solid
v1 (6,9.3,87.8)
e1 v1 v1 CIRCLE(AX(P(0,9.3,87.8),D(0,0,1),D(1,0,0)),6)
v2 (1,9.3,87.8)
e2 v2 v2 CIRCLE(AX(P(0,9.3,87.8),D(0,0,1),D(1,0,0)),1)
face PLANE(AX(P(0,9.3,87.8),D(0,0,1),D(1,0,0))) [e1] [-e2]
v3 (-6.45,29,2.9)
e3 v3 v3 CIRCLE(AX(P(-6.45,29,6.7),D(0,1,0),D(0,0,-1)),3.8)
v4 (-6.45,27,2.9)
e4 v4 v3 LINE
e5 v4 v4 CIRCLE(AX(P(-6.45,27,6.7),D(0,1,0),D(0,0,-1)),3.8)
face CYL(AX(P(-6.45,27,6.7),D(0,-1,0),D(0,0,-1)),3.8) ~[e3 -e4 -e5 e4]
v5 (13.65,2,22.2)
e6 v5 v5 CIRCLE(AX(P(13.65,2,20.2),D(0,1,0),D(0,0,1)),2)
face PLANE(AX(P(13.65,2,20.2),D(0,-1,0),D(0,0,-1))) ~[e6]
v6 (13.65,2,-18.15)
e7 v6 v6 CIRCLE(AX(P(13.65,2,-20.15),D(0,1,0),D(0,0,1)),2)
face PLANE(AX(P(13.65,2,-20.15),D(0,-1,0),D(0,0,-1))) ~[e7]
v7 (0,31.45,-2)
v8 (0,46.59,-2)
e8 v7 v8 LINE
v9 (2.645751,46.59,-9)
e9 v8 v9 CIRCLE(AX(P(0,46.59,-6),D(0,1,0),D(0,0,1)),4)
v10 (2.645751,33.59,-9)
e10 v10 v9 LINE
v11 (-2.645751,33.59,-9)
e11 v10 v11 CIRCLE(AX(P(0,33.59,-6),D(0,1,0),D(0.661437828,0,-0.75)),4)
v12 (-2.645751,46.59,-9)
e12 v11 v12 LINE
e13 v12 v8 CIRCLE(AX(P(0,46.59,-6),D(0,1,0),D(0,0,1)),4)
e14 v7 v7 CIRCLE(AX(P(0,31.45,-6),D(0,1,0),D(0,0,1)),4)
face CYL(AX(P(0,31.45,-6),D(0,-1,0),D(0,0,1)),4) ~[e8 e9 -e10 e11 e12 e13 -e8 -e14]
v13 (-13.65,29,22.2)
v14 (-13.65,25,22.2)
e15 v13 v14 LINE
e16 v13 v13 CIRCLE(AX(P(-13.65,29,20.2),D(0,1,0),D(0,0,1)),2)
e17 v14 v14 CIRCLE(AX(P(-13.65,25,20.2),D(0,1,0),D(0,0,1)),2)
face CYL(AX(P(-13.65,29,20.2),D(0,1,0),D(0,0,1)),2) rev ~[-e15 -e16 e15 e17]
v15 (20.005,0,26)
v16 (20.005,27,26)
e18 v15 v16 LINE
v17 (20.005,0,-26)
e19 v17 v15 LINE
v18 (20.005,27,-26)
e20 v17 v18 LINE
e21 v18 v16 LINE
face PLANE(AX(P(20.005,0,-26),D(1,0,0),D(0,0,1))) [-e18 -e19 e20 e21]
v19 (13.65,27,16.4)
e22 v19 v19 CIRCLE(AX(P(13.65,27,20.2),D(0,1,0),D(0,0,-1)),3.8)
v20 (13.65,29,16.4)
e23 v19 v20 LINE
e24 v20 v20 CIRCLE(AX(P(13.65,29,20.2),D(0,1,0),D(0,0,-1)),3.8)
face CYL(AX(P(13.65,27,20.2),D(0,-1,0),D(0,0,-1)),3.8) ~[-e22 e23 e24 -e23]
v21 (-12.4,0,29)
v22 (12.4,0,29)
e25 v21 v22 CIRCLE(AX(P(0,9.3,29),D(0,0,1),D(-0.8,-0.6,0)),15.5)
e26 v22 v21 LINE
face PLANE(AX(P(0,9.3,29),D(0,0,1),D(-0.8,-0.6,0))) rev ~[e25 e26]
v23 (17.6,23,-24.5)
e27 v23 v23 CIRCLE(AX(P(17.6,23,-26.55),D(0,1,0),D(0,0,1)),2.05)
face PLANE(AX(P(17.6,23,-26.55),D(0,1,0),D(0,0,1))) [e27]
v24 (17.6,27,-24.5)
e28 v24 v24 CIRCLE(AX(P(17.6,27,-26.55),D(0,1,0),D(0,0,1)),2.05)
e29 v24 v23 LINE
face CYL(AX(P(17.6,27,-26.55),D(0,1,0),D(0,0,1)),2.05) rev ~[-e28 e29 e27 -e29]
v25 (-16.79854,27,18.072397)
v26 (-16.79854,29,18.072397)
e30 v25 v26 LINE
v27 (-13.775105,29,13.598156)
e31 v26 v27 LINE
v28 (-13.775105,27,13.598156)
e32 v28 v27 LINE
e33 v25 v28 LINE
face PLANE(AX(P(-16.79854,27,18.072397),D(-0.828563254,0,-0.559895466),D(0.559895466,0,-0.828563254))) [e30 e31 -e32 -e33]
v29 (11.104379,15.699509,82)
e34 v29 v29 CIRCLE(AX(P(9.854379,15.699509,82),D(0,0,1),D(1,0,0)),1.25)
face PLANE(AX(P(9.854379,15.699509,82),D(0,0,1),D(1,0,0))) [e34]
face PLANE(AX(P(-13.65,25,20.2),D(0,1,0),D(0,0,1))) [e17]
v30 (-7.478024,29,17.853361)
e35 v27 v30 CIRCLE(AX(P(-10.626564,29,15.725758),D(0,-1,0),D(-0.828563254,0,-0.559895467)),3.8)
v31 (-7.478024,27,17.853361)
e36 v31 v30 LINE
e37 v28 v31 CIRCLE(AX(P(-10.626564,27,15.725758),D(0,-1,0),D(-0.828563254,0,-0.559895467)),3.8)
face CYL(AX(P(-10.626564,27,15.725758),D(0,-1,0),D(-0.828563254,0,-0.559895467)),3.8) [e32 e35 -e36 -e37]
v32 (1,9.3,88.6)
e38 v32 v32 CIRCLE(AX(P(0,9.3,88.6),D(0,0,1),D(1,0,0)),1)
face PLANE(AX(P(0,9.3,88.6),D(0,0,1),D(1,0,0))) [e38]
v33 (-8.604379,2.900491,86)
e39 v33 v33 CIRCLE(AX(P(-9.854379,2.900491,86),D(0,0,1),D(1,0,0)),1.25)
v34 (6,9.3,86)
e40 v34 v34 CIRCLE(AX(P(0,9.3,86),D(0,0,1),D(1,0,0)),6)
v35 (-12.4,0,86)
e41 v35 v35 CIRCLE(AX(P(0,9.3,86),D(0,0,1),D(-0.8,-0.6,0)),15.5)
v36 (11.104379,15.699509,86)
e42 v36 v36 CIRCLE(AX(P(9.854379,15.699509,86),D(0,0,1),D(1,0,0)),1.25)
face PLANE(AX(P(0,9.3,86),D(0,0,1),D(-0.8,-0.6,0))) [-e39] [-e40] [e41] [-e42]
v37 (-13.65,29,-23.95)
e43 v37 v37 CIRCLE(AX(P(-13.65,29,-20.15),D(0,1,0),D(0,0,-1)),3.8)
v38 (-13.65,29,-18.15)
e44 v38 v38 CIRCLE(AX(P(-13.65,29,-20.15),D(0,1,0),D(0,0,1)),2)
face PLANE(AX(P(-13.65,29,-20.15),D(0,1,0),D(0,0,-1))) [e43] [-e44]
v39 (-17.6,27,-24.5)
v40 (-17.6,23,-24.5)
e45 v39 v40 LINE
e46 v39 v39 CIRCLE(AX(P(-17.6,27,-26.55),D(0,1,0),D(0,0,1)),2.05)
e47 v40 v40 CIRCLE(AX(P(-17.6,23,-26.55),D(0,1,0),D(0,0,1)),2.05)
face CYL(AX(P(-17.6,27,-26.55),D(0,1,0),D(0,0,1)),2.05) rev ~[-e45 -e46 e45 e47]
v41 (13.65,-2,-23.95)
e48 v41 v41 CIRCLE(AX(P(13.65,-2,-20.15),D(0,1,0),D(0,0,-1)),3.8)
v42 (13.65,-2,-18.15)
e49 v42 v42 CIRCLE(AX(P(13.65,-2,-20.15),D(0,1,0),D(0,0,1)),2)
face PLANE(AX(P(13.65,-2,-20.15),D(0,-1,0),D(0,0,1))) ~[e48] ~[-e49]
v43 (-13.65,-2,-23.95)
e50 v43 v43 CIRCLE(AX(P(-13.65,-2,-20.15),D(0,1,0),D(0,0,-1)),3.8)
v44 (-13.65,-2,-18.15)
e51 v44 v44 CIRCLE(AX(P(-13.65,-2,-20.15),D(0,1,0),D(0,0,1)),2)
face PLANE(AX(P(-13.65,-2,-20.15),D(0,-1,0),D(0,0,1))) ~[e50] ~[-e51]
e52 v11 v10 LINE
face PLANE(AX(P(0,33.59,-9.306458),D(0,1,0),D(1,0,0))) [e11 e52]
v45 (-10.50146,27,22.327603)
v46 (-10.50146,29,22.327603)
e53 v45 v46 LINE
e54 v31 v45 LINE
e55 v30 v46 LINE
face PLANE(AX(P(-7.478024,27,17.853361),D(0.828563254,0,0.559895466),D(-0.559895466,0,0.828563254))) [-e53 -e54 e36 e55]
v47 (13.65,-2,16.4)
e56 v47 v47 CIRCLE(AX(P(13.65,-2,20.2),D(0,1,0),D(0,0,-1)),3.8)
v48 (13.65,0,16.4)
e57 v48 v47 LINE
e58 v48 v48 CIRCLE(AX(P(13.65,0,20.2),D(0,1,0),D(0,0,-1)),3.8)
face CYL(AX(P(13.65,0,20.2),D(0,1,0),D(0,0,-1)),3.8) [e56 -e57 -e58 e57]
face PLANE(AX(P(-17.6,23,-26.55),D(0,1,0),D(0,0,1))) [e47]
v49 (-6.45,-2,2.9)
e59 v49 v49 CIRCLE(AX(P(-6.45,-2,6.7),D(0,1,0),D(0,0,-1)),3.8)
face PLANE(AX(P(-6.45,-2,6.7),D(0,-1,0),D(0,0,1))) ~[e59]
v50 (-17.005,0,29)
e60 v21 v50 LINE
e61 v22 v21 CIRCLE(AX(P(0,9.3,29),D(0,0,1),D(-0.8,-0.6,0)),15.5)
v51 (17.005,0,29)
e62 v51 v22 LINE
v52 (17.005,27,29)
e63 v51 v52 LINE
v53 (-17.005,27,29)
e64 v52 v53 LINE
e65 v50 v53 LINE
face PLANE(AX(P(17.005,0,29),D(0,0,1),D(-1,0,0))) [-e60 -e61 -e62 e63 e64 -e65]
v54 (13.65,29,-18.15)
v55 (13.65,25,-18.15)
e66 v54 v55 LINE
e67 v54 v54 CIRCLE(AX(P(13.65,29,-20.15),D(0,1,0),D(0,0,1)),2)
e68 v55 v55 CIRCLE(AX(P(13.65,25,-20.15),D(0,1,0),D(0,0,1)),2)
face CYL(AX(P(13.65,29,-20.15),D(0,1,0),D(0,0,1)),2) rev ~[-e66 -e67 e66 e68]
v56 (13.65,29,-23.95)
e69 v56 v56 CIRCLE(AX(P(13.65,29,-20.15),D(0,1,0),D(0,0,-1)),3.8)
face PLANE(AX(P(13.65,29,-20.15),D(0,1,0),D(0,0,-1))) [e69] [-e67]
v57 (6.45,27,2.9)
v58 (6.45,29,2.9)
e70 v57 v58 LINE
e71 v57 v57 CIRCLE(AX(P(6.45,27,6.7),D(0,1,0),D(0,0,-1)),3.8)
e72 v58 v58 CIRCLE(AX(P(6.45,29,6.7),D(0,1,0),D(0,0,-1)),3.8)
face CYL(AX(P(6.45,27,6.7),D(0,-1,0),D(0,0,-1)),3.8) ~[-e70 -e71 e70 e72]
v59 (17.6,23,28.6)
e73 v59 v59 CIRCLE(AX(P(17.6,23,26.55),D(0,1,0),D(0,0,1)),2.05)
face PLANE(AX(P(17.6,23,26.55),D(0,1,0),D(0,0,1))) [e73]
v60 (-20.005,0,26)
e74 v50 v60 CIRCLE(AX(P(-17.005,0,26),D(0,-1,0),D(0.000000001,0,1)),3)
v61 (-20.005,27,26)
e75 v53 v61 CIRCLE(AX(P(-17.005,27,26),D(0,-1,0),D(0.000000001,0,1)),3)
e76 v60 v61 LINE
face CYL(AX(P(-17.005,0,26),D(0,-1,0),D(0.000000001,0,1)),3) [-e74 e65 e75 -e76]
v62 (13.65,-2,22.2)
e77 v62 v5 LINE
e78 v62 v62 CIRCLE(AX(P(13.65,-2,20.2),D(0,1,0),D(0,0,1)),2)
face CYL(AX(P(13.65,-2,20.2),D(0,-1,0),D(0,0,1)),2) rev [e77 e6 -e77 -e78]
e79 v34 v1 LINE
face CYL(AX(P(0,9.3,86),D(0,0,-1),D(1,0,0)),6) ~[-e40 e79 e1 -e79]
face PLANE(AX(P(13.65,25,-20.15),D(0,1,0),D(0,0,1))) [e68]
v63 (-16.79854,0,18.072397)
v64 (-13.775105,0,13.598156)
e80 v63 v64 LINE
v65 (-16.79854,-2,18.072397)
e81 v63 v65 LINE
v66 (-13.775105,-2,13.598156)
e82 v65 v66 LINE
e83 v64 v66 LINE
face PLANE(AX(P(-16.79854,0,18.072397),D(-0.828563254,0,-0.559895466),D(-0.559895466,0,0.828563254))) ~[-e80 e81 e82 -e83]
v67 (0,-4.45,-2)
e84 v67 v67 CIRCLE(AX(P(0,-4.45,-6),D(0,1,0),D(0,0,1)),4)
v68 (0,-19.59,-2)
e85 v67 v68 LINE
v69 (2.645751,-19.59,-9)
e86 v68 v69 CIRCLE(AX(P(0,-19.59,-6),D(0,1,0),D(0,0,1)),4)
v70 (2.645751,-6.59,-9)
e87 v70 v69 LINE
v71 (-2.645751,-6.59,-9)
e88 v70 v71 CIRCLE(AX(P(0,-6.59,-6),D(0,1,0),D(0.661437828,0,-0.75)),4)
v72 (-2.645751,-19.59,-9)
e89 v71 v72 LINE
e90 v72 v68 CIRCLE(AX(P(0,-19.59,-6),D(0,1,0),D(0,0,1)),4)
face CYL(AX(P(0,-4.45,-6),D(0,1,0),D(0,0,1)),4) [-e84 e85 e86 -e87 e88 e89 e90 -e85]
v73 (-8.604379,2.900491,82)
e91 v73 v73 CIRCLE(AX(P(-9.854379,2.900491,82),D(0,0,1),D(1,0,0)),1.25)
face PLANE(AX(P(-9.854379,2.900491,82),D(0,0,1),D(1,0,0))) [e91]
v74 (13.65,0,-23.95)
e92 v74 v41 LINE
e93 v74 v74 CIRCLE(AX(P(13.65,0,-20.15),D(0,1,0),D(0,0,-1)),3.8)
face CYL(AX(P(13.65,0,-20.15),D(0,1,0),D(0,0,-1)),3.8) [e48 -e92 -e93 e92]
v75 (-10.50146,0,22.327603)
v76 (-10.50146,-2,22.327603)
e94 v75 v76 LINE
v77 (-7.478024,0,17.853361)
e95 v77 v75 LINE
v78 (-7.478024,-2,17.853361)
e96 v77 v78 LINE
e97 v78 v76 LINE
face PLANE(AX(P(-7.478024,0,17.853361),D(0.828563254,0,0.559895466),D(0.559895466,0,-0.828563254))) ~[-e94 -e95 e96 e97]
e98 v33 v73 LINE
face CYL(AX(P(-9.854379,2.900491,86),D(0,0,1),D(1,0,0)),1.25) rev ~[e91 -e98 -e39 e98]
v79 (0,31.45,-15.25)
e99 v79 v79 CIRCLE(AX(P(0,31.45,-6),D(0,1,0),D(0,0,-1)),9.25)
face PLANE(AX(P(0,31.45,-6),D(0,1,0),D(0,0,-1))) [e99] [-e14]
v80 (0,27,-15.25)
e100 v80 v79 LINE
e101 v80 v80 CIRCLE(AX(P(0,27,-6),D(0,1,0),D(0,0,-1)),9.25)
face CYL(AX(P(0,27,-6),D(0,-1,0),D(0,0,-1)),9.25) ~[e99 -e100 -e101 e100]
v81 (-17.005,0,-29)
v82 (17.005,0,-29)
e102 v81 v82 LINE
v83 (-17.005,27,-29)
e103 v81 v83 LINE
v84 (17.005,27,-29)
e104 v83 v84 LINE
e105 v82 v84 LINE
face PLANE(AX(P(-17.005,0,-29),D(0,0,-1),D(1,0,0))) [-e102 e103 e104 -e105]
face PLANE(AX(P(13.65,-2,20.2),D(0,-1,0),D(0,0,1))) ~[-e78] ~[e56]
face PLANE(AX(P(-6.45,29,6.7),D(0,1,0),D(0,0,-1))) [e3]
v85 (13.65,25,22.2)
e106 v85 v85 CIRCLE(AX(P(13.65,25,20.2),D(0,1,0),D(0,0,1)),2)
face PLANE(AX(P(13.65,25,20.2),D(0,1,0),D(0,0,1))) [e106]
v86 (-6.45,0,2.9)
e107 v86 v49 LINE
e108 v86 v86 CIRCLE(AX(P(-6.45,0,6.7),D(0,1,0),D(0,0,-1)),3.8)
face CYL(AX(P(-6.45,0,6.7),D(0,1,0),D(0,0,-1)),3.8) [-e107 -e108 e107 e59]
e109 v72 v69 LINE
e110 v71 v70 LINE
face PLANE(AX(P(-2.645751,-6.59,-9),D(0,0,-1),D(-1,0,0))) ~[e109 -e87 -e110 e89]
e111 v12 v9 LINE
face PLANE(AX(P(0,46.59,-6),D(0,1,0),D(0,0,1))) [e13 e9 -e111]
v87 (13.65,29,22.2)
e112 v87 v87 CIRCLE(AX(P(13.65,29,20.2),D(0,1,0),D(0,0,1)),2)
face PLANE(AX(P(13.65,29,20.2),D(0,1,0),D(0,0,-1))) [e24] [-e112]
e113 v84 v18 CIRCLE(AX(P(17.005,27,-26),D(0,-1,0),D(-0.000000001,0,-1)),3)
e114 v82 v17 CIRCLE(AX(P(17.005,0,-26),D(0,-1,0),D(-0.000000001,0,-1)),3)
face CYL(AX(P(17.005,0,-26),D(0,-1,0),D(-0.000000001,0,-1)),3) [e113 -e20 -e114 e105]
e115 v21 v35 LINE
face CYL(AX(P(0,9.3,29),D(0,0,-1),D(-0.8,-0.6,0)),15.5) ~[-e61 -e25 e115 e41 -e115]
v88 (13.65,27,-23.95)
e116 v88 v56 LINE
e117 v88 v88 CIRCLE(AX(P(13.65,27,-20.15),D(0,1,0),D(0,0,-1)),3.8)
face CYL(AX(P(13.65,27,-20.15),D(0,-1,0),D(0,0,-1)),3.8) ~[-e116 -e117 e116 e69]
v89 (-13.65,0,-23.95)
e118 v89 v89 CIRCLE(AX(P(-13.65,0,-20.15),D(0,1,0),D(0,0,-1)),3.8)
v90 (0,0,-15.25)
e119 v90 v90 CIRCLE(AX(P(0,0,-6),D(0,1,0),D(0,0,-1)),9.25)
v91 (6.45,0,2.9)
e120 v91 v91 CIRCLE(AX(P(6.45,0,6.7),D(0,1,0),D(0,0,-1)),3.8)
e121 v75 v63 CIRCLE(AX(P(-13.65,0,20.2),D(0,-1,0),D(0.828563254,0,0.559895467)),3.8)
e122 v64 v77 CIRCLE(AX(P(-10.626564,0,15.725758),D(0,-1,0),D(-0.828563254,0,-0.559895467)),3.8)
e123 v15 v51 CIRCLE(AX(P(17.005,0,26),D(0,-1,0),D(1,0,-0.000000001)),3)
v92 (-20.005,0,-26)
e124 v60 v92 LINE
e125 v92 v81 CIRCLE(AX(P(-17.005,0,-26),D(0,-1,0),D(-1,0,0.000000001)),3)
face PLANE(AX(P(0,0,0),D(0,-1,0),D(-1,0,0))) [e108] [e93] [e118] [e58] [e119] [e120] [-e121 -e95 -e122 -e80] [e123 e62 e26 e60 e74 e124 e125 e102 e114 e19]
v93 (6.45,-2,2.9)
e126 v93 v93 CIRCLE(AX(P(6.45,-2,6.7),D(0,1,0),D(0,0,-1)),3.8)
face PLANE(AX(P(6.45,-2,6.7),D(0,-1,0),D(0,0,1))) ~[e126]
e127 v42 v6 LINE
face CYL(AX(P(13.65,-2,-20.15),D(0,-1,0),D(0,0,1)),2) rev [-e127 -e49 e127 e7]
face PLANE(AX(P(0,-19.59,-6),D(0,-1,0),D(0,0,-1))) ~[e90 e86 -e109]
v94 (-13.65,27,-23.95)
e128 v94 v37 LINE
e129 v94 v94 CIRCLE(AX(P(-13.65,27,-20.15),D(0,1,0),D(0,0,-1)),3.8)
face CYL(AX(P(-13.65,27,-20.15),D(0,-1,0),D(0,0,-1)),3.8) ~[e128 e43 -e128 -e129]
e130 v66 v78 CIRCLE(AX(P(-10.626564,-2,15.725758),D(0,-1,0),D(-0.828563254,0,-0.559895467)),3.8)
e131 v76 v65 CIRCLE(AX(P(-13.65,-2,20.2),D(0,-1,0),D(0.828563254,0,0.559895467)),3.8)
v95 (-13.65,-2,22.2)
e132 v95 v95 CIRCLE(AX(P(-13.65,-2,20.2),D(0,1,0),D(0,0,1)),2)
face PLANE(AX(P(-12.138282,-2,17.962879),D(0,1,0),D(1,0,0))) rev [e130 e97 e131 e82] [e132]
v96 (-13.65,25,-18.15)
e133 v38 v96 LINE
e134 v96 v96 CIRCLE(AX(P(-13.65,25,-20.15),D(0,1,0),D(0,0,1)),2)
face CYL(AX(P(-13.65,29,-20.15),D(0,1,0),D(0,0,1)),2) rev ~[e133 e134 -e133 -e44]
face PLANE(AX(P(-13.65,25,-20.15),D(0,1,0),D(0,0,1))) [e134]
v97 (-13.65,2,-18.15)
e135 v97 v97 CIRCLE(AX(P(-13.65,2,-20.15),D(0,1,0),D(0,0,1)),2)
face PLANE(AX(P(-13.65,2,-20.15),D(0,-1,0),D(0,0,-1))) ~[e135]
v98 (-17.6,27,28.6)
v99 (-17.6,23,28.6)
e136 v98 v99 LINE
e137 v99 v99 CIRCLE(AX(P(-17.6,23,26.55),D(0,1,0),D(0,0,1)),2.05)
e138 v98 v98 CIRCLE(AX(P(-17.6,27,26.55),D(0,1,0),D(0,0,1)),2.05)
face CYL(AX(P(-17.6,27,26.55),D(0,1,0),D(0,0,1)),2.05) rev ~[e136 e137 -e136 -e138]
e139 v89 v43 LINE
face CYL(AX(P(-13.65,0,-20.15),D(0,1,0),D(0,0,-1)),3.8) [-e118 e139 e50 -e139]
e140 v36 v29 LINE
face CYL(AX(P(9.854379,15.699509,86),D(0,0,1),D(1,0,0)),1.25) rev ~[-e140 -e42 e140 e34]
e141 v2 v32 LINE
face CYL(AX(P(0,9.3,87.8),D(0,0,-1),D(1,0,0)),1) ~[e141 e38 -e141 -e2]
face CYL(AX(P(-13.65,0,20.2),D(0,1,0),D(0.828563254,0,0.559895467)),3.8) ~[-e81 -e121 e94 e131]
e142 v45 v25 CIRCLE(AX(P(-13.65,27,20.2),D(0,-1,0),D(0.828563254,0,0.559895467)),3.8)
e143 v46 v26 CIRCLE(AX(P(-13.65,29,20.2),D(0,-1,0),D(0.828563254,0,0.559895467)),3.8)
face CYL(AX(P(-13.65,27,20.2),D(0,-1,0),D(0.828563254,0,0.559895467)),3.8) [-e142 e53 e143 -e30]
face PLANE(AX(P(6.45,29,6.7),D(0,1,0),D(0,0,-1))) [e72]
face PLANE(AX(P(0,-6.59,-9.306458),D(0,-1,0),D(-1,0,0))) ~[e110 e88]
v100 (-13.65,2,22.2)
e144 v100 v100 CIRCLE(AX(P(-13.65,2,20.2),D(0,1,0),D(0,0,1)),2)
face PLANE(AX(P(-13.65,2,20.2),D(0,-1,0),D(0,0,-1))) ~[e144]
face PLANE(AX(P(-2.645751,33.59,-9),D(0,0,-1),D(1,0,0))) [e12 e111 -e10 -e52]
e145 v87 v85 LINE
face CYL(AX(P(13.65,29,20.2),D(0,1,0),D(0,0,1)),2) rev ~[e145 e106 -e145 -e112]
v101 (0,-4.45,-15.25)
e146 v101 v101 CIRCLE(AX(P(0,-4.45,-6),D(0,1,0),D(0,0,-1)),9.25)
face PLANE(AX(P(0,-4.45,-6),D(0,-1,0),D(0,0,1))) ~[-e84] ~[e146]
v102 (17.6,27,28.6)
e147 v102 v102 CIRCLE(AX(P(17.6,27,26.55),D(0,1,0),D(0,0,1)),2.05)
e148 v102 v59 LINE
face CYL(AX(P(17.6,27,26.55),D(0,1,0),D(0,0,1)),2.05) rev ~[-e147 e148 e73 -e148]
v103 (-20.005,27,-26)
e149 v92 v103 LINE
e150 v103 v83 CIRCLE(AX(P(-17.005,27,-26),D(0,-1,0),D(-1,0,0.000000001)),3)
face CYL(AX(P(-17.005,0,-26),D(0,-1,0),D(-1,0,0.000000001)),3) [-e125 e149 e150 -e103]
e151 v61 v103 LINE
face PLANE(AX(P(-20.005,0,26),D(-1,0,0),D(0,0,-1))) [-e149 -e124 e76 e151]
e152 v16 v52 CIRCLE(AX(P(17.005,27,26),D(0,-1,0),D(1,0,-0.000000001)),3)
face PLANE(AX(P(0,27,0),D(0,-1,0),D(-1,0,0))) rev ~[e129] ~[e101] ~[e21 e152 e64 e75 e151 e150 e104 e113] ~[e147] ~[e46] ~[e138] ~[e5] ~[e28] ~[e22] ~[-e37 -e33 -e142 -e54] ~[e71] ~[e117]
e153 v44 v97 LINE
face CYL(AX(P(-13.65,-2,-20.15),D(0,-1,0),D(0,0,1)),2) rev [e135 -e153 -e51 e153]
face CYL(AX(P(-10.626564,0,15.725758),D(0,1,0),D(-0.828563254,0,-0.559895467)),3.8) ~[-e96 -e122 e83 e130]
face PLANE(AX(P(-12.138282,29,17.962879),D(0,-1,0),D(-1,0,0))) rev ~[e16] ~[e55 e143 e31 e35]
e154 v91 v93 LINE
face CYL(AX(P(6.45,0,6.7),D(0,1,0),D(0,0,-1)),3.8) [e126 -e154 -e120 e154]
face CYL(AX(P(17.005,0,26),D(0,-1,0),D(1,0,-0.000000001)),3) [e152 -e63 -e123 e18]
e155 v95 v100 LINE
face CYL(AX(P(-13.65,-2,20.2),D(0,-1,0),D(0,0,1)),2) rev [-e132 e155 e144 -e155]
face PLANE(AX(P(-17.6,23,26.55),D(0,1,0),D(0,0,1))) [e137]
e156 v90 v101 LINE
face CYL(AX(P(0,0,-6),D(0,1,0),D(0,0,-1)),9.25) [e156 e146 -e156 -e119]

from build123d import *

# Parameters (mm, degrees)
BOSS_EXTRUDE2_DEPTH = 27
SKETCH5_R           = 3.8
BOSS_EXTRUDE3_DEPTH = 2
SKETCH6_R           = 2
CUT_EXTRUDE3_DEPTH  = 4
SKETCH7_R           = 9.25
BOSS_EXTRUDE4_DEPTH = 4.45
SKETCH8_R           = 4
BOSS_EXTRUDE5_DEPTH = 15.14
CUT_EXTRUDE4_START  = -13
CUT_EXTRUDE4_DEPTH  = 13
SKETCH11_R          = 15.5
BOSS_EXTRUDE6_DEPTH = 57
SKETCH12_R          = 6
BOSS_EXTRUDE7_DEPTH = 1.8
SKETCH13_R          = 1
BOSS_EXTRUDE8_DEPTH = 0.8
SKETCH14_R          = 1.25
CUT_EXTRUDE6_DEPTH  = 4
SKETCH10_R          = 2.05
CUT_EXTRUDE5_DEPTH  = 4


with BuildPart() as part:
    # Sketch1 → Boss-Extrude2 (new body)
    with BuildSketch(Plane(origin=(0, 0, 0), x_dir=(1, 0, 0), z_dir=(0, 1, 0))):
        with BuildLine():
            Line((17.005, -29), (-17.005, -29))
            ThreePointArc((-17.005, -29), (-19.126320344, -28.121320344), (-20.005, -26))
            Line((-20.005, -26), (-20.005, 26))
            ThreePointArc((-20.005, 26), (-19.126320344, 28.121320344), (-17.005, 29))
            Line((-17.005, 29), (17.005, 29))
            ThreePointArc((17.005, 29), (19.126320344, 28.121320344), (20.005, 26))
            Line((20.005, 26), (20.005, -26))
            ThreePointArc((20.005, -26), (19.126320344, -28.121320344), (17.005, -29))
        make_face()
    extrude(amount=BOSS_EXTRUDE2_DEPTH)

    # Sketch5 → Boss-Extrude3 (add)
    with BuildSketch(Plane(origin=(0, 27, 0), x_dir=(1, 0, 0), z_dir=(0, 1, 0))):
        with Locations(Location((-13.65, 20.15, 0), (0, 0, 90))):
            Circle(SKETCH5_R)
        with Locations(Location((13.65, 20.15, 0), (0, 0, 90))):
            Circle(SKETCH5_R)
        with Locations(Location((13.65, -20.2, 0), (0, 0, 90))):
            Circle(SKETCH5_R)
        with Locations(Location((-6.45, -6.7, 0), (0, 0, 90))):
            Circle(SKETCH5_R)
        with Locations(Location((6.45, -6.7, 0), (0, 0, 90))):
            Circle(SKETCH5_R)
        with BuildLine():
            Line((-16.798540367, -18.072397227), (-13.775104848, -13.598155653))
            ThreePointArc((-13.775104848, -13.598155653), (-8.498961708, -12.577218059), (-7.478024114, -17.853361199))
            Line((-7.478024114, -17.853361199), (-10.501459633, -22.327602773))
            ThreePointArc((-10.501459633, -22.327602773), (-15.777602773, -23.348540367), (-16.798540367, -18.072397227))
        make_face()
    boss_extrude3 = extrude(amount=BOSS_EXTRUDE3_DEPTH)

    # Sketch6 → Cut-Extrude3 (cut)
    with BuildSketch(Plane(origin=(0, 29, 0), x_dir=(1, 0, 0), z_dir=(0, 1, 0))):
        with Locations(Location((13.65, -20.2, 0), (0, 0, 270))):
            Circle(SKETCH6_R)
        with Locations(Location((13.65, 20.15, 0), (0, 0, 270))):
            Circle(SKETCH6_R)
        with Locations(Location((-13.65, 20.15, 0), (0, 0, 270))):
            Circle(SKETCH6_R)
        with Locations(Location((-13.65, -20.2, 0), (0, 0, 270))):
            Circle(SKETCH6_R)
    cut_extrude3 = extrude(amount=-CUT_EXTRUDE3_DEPTH, mode=Mode.SUBTRACT)

    # Sketch7 → Boss-Extrude4 (add)
    with BuildSketch(Plane(origin=(0, 27, 0), x_dir=(1, 0, 0), z_dir=(0, 1, 0))):
        with Locations(Location((0, 6, 0), (0, 0, 90))):
            Circle(SKETCH7_R)
    boss_extrude4 = extrude(amount=BOSS_EXTRUDE4_DEPTH)

    # Sketch8 → Boss-Extrude5 (add)
    with BuildSketch(Plane(origin=(0, 31.45, 0), x_dir=(1, 0, 0), z_dir=(0, 1, 0))):
        with Locations(Location((0, 6, 0), (0, 0, 270))):
            Circle(SKETCH8_R)
    boss_extrude5 = extrude(amount=BOSS_EXTRUDE5_DEPTH)

    # Sketch9 → Cut-Extrude4 (cut)
    with BuildSketch(Plane(origin=(0, 46.59, 0), x_dir=(1, 0, 0), z_dir=(0, 1, 0)).offset(CUT_EXTRUDE4_START)):
        with BuildLine():
            Line((-2.645751311, 9), (2.645751311, 9))
            ThreePointArc((2.645751311, 9), (0, 10), (-2.645751311, 9))
        make_face()
    cut_extrude4 = extrude(amount=CUT_EXTRUDE4_DEPTH, mode=Mode.SUBTRACT)

    # Mirror1: Boss-Extrude3, Cut-Extrude3, Boss-Extrude4, Boss-Extrude5, Cut-Extrude4 across plane
    add(boss_extrude3.mirror(Plane.ZX.offset(13.5)))
    add(cut_extrude3.mirror(Plane.ZX.offset(13.5)), mode=Mode.SUBTRACT)
    add(boss_extrude4.mirror(Plane.ZX.offset(13.5)))
    add(boss_extrude5.mirror(Plane.ZX.offset(13.5)))
    add(cut_extrude4.mirror(Plane.ZX.offset(13.5)), mode=Mode.SUBTRACT)

    # Sketch11 → Boss-Extrude6 (add)
    with BuildSketch(Plane.XY.offset(29)):
        with Locations(Location((0, 9.3, 0), (0, 0, 216.869897646))):
            Circle(SKETCH11_R)
    extrude(amount=BOSS_EXTRUDE6_DEPTH)

    # Sketch12 → Boss-Extrude7 (add)
    with BuildSketch(Plane.XY.offset(86)):
        with Locations((0, 9.3)):
            Circle(SKETCH12_R)
    extrude(amount=BOSS_EXTRUDE7_DEPTH)

    # Sketch13 → Boss-Extrude8 (add)
    with BuildSketch(Plane.XY.offset(87.8)):
        with Locations((0, 9.3)):
            Circle(SKETCH13_R)
    extrude(amount=BOSS_EXTRUDE8_DEPTH)

    # Sketch14 → Cut-Extrude6 (cut)
    with BuildSketch(Plane.XY.offset(86)):
        with Locations((9.854379173, 15.699508661)):
            Circle(SKETCH14_R)
        with Locations((-9.854379173, 2.900491339)):
            Circle(SKETCH14_R)
    extrude(amount=-CUT_EXTRUDE6_DEPTH, mode=Mode.SUBTRACT)

    # Sketch10 → Cut-Extrude5 (cut)
    with BuildSketch(Plane(origin=(0, 27, 0), x_dir=(1, 0, 0), z_dir=(0, 1, 0))):
        with Locations(Location((-17.6, 26.55, 0), (0, 0, 270))):
            Circle(SKETCH10_R)
        with Locations(Location((17.6, 26.55, 0), (0, 0, 270))):
            Circle(SKETCH10_R)
        with Locations(Location((17.6, -26.55, 0), (0, 0, 270))):
            Circle(SKETCH10_R)
        with Locations(Location((-17.6, -26.55, 0), (0, 0, 270))):
            Circle(SKETCH10_R)
    extrude(amount=-CUT_EXTRUDE5_DEPTH, mode=Mode.SUBTRACT)


solid = part.part
